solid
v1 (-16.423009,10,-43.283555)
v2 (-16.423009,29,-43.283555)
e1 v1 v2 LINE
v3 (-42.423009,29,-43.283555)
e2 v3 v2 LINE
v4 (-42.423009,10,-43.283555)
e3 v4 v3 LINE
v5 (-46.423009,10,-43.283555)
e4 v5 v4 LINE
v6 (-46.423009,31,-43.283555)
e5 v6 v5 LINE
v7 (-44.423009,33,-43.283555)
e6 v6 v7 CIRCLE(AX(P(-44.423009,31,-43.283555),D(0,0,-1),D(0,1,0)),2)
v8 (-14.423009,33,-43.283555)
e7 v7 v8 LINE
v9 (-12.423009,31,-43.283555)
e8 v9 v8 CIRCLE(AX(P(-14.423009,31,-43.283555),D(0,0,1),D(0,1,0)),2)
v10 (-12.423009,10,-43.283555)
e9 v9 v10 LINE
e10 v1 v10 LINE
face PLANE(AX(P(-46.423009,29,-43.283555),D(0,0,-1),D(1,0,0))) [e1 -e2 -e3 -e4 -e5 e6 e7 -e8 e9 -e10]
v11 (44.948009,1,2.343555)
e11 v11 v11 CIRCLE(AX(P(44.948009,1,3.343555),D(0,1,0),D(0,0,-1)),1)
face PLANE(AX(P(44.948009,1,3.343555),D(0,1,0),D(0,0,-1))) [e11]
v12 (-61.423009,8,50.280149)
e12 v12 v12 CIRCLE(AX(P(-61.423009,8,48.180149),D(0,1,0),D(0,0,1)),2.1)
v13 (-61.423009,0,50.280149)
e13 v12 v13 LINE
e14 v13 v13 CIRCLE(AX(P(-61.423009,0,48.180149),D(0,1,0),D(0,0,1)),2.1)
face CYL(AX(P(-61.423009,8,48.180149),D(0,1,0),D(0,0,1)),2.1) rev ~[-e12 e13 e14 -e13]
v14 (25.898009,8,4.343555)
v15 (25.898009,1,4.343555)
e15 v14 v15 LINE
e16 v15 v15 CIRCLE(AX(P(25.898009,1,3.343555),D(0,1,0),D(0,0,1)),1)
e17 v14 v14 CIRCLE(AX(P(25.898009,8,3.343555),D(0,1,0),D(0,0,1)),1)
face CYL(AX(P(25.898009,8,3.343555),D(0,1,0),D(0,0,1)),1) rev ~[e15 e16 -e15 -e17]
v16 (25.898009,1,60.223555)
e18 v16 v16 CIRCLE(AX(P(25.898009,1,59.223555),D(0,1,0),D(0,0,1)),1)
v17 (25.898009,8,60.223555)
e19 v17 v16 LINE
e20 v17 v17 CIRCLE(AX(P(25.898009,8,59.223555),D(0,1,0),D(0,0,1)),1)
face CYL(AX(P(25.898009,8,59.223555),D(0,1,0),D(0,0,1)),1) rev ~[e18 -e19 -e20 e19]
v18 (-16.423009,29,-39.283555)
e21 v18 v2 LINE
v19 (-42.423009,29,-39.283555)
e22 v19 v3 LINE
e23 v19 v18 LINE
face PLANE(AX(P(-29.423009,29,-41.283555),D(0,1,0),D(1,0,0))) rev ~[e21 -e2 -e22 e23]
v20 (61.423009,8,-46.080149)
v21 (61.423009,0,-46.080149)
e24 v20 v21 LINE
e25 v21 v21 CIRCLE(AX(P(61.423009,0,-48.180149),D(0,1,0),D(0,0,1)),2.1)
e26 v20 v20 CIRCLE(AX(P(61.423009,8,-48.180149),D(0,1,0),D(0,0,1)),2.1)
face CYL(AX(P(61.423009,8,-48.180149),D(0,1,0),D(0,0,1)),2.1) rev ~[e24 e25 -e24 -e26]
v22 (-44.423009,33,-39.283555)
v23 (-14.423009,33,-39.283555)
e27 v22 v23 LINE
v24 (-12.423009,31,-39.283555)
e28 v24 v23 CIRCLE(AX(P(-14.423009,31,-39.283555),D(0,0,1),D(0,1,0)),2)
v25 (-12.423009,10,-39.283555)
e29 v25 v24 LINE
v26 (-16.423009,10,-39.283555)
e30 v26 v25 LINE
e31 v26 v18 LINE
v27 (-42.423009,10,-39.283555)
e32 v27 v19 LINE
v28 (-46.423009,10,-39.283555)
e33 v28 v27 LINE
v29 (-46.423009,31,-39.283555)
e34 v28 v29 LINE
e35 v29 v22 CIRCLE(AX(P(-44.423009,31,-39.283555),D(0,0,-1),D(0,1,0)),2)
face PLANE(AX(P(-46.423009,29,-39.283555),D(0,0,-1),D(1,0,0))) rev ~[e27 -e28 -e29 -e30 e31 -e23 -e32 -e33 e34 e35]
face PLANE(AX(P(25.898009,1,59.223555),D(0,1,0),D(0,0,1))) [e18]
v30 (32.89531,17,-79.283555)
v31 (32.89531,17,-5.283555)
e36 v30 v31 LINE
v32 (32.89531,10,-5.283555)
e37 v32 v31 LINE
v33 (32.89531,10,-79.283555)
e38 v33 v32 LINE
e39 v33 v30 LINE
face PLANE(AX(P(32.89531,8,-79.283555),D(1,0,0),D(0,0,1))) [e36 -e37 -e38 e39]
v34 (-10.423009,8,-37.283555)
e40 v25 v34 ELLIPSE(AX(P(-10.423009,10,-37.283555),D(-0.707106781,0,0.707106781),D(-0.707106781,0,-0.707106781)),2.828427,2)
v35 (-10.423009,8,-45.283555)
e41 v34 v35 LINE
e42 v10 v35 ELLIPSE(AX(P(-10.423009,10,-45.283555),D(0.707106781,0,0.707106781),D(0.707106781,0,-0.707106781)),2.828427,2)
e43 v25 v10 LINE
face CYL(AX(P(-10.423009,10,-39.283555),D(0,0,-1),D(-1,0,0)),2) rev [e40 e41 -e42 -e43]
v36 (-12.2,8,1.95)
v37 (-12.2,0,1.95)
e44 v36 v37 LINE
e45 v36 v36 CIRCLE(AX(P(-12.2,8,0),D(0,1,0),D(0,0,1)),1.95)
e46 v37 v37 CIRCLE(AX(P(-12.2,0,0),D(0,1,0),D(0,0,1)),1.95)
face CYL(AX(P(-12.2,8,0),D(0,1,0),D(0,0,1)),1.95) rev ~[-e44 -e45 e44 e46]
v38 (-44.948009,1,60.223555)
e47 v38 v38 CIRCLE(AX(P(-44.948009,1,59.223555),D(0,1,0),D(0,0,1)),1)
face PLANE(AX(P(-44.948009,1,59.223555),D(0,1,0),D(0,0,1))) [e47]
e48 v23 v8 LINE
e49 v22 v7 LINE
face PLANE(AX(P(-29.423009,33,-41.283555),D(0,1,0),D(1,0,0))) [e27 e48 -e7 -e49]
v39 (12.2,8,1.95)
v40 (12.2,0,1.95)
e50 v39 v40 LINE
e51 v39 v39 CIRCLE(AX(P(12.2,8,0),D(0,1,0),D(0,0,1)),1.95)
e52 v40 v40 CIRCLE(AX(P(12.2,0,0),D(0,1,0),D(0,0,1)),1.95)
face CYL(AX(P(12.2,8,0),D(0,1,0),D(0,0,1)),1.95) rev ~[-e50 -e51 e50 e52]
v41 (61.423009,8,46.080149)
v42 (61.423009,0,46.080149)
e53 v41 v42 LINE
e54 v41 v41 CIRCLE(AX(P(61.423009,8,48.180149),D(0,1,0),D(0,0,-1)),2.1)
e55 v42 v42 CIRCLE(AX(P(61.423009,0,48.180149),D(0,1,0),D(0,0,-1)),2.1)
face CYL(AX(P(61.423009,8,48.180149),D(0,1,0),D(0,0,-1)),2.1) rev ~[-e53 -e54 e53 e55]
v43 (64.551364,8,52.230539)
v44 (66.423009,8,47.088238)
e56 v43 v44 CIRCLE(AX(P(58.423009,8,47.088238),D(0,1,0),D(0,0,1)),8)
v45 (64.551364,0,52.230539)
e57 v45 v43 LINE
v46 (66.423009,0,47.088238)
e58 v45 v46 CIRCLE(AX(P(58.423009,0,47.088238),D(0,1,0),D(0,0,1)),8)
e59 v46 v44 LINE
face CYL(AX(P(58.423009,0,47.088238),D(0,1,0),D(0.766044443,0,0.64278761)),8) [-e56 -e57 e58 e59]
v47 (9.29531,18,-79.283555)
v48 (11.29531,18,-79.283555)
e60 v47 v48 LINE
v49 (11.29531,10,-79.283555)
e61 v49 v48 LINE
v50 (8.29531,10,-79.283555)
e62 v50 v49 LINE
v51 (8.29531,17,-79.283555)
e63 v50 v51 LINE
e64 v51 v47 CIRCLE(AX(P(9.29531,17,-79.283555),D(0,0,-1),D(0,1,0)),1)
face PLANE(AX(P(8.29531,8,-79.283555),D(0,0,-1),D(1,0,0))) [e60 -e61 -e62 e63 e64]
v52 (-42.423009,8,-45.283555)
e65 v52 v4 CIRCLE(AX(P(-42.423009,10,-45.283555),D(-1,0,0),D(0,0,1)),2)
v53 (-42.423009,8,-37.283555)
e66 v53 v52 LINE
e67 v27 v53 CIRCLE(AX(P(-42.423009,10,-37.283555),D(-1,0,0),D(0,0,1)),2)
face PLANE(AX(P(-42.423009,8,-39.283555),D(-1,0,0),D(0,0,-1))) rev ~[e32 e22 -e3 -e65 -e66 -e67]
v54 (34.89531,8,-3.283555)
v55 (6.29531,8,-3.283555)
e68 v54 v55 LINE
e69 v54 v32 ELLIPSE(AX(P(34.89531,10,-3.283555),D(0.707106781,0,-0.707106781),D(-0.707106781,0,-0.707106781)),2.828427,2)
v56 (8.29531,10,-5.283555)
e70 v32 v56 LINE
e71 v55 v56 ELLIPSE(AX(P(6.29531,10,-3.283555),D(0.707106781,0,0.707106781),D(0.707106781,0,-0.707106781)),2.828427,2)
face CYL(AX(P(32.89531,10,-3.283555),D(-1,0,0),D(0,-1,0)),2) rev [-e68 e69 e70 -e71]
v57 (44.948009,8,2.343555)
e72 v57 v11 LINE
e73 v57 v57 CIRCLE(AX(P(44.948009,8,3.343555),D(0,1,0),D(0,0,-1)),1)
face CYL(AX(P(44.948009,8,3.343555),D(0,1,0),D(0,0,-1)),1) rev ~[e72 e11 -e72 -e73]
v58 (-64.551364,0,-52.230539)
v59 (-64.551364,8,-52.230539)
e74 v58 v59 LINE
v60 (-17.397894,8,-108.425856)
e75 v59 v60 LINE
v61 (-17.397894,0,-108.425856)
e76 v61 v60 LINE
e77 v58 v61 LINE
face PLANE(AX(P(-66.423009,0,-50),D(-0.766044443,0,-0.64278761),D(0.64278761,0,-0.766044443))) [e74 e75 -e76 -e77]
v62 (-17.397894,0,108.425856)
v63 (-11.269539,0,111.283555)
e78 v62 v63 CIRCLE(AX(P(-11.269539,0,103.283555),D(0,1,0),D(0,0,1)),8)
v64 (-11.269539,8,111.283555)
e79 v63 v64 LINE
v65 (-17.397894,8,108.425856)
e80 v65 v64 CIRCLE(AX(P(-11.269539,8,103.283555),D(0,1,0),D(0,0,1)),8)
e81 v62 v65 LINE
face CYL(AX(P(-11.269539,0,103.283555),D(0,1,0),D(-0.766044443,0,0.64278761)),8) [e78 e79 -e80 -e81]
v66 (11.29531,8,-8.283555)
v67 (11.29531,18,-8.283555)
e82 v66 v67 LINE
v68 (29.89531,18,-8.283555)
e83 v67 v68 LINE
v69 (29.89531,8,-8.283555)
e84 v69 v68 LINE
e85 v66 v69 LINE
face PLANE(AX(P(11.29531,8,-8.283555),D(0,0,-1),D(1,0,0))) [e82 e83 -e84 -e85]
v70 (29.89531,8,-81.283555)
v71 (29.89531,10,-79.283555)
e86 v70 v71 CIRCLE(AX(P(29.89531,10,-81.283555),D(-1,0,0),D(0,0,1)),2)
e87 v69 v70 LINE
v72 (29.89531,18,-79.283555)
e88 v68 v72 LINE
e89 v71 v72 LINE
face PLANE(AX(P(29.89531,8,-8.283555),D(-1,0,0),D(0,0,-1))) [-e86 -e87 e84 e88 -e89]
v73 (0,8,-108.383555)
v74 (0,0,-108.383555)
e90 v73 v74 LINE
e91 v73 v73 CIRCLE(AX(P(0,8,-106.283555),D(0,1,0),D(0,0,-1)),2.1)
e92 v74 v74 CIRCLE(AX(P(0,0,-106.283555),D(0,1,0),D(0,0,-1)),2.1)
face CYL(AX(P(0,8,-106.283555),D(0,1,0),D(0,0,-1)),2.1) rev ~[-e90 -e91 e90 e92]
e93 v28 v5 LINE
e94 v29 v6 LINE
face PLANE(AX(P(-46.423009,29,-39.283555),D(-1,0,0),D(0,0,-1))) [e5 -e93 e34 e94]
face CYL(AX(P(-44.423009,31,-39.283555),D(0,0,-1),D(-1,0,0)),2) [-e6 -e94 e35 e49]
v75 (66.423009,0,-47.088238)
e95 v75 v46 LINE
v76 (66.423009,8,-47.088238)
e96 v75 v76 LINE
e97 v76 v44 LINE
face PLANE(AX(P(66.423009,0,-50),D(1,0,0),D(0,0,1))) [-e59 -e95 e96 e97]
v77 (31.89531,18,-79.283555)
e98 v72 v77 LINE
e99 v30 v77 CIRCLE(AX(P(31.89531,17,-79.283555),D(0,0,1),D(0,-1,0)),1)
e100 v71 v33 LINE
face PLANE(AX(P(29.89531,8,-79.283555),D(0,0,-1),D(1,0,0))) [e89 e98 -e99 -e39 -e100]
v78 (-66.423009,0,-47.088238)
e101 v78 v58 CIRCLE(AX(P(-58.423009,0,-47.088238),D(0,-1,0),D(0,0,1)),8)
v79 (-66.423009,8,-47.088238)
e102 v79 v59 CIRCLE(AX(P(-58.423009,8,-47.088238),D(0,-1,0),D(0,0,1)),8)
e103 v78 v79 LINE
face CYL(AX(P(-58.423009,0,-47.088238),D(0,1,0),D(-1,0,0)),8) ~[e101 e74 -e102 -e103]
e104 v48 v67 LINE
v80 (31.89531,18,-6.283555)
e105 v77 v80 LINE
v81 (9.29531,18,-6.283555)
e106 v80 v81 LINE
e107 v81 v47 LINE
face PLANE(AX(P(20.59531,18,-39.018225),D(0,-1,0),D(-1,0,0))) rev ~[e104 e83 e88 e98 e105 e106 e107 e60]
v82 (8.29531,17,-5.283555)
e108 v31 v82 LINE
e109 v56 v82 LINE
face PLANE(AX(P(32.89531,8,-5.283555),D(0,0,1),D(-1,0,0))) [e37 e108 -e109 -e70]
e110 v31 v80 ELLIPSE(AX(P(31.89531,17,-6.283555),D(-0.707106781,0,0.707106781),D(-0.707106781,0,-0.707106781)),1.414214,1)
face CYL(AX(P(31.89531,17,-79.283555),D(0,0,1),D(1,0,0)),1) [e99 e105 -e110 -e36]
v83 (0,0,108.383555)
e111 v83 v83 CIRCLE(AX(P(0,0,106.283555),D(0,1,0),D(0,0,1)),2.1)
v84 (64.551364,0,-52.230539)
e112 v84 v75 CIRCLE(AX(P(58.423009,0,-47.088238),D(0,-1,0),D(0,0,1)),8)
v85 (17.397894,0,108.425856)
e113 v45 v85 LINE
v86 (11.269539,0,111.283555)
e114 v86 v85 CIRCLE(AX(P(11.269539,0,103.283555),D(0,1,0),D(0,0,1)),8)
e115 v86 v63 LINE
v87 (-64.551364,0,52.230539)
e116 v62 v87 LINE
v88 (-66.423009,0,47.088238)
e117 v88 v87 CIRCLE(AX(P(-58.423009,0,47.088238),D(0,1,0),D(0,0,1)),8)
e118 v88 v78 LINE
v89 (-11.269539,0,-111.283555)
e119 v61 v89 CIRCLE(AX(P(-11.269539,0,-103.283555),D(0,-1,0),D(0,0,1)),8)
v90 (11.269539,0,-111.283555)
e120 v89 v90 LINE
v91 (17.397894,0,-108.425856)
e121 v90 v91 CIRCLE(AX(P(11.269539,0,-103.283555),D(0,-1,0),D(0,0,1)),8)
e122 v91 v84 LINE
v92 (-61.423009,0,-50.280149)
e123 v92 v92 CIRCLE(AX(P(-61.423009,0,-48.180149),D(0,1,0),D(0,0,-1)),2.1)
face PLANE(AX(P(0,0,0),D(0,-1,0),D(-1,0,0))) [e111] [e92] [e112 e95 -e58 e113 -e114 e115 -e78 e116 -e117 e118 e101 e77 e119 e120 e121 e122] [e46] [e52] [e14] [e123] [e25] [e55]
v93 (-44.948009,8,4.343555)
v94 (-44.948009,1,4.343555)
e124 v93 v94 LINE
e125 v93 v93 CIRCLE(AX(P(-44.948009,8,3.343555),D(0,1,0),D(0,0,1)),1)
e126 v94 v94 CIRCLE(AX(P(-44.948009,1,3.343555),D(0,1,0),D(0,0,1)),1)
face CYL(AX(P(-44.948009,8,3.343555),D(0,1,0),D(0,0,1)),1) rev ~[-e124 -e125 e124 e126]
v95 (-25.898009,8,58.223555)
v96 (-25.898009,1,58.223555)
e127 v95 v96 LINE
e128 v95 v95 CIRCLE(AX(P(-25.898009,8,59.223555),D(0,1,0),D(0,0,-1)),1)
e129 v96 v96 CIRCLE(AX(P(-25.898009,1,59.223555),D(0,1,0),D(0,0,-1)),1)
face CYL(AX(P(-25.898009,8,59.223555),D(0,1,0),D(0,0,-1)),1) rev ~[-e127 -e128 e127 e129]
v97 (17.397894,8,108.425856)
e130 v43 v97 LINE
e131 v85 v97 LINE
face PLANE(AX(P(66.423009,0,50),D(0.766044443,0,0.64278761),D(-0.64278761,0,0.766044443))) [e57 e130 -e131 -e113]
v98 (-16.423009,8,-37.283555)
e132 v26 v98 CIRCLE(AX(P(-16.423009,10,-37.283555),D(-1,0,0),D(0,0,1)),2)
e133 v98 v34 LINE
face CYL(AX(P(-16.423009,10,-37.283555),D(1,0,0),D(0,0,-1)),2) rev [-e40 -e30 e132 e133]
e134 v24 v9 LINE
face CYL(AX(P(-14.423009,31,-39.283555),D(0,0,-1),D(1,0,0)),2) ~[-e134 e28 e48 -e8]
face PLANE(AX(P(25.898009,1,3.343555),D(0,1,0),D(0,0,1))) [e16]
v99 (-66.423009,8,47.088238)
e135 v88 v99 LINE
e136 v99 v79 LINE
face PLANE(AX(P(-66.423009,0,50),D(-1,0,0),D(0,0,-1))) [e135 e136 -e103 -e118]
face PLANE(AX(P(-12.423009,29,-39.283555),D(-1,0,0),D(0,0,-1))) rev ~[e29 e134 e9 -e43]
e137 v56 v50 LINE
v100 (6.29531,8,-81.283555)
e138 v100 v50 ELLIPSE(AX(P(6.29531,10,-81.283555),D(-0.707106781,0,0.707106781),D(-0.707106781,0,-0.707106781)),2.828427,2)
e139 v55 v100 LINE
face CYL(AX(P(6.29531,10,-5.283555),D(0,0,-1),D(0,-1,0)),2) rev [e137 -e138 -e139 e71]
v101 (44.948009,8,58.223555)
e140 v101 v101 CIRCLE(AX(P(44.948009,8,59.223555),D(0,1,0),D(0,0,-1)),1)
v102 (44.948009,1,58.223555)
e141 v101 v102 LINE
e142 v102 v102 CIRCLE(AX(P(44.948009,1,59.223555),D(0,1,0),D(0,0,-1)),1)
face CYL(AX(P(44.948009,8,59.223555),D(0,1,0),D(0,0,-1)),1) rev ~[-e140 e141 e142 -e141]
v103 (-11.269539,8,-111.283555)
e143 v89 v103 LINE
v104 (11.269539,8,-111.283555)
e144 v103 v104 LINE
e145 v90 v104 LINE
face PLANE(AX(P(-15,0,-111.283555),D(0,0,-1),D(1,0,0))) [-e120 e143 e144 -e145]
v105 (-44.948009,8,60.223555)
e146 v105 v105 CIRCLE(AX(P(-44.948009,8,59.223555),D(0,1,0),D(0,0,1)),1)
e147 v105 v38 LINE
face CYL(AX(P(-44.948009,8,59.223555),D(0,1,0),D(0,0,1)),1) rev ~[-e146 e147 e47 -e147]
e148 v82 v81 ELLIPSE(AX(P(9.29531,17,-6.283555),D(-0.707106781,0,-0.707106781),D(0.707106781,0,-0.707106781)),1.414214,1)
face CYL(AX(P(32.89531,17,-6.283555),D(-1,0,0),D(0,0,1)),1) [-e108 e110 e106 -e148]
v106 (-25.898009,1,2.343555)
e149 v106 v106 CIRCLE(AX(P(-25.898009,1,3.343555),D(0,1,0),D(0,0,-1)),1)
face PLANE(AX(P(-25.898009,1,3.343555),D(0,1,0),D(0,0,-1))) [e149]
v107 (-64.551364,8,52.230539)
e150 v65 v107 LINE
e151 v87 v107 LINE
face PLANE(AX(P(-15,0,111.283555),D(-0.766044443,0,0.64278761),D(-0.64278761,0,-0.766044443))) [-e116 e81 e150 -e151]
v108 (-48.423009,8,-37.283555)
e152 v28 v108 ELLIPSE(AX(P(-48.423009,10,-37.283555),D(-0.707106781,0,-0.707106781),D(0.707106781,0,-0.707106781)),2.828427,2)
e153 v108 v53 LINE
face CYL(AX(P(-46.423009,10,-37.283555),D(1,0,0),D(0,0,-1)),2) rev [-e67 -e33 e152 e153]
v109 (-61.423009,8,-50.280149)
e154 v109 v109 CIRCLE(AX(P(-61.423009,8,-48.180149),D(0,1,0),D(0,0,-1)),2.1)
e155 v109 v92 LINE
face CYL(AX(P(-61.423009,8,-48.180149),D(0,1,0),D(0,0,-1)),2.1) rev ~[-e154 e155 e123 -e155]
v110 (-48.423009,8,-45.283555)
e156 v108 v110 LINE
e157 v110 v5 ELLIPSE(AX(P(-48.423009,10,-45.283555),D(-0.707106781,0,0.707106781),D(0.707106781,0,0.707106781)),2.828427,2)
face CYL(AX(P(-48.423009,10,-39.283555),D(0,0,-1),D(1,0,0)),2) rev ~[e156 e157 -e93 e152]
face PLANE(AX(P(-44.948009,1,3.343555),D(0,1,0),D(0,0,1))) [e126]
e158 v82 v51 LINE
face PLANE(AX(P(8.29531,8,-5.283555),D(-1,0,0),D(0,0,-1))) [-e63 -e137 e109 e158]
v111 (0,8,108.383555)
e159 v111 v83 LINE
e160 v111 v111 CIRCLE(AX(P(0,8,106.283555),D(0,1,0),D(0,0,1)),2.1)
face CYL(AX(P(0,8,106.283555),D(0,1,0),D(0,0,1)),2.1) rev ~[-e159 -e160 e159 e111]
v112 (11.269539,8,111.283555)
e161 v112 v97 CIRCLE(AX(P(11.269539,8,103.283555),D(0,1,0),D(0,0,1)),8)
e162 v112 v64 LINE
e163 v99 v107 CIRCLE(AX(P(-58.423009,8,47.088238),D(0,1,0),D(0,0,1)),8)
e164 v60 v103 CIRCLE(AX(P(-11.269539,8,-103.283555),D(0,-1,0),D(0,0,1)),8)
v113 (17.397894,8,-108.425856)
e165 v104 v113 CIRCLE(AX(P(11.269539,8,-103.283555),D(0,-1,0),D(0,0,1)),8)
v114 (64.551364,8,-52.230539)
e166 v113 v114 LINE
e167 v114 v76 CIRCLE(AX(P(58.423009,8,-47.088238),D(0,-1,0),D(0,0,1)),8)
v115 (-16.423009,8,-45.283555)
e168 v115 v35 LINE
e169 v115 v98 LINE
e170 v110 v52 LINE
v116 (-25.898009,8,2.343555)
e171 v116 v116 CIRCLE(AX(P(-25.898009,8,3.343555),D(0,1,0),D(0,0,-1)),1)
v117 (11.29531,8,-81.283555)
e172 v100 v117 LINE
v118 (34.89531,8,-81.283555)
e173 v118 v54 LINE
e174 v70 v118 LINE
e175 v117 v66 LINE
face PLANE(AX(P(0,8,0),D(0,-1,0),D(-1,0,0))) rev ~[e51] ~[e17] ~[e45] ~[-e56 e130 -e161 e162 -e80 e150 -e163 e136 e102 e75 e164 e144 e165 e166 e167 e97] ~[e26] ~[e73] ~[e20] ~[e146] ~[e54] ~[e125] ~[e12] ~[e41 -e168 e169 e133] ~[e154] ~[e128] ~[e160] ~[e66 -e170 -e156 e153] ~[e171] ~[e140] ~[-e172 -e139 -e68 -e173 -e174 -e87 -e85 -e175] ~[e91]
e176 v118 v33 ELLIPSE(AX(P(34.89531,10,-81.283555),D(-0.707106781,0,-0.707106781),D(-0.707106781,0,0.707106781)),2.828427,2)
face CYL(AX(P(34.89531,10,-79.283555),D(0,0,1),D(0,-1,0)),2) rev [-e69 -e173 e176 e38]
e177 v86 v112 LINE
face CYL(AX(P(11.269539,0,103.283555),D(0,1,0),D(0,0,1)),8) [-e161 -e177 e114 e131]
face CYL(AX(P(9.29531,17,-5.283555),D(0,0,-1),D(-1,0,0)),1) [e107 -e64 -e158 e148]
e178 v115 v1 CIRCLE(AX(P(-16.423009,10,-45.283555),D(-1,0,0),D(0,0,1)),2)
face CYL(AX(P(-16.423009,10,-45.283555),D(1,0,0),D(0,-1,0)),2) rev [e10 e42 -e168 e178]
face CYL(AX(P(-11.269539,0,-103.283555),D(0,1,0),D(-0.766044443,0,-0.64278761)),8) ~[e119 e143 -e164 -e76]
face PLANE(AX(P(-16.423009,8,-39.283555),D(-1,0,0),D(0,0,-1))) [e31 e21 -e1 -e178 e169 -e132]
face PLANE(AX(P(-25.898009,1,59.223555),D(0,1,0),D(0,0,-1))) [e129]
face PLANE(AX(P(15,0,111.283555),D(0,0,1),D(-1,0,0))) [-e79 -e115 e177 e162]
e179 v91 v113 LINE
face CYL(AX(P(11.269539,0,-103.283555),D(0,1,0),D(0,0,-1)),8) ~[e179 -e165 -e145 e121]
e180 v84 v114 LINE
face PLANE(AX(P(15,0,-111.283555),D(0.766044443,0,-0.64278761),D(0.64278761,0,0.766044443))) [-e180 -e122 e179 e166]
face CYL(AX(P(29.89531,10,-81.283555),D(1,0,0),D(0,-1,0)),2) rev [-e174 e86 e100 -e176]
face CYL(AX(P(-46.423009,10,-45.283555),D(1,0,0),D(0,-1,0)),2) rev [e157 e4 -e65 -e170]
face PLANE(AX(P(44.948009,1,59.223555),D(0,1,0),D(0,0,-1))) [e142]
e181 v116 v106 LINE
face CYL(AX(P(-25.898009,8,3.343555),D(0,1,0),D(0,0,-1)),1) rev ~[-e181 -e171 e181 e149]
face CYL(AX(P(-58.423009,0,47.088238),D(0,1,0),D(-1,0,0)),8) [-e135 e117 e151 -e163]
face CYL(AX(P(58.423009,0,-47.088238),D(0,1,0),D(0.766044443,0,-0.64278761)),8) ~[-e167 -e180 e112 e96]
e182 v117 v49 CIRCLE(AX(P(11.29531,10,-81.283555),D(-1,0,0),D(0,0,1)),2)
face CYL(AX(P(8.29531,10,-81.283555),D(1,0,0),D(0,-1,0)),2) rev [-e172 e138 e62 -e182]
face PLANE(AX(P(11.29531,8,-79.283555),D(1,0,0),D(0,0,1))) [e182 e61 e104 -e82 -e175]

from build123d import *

# Parameters (mm, degrees)
BOSS_EXTRUDE2_DEPTH = 8
SKETCH5_R           = 2.1
CUT_EXTRUDE1_DEPTH  = 130.846239099
FILLET1_R           = 8
SKETCH6_R           = 1
CUT_EXTRUDE2_DEPTH  = 7
BOSS_EXTRUDE3_DEPTH = 10
FILLET2_R           = 2
SKETCH9_W           = 4
SKETCH9_H           = 4
BOSS_EXTRUDE4_DEPTH = 21
SKETCH10_W          = 34
SKETCH10_H          = 4
BOSS_EXTRUDE5_DEPTH = 4
FILLET3_R           = 2
FILLET4_R           = 1
SKETCH11_R          = 1.95
CUT_EXTRUDE3_DEPTH  = 132.988809405


with BuildPart() as part:
    # Sketch3 → Boss-Extrude2 (new body)
    with BuildSketch(Plane(origin=(0, 0, 0), x_dir=(1, 0, 0), z_dir=(0, 1, 0))):
        Polygon((-66.423008775, -50), (-66.423008775, 50), (-15, 111.28355545), (15, 111.28355545), (66.423008775, 50), (66.423008775, -50), (15, -111.28355545), (-15, -111.28355545), align=None)
    extrude(amount=BOSS_EXTRUDE2_DEPTH)

    # Sketch5 → Cut-Extrude1 (cut, through all)
    with BuildSketch(Plane(origin=(0, 8, 0), x_dir=(1, 0, 0), z_dir=(0, 1, 0))):
        with Locations(Location((0, -106.28355545, 0), (0, 0, 270))):
            Circle(SKETCH5_R)
        with Locations(Location((-61.423008775, -48.180148829, 0), (0, 0, 270))):
            Circle(SKETCH5_R)
        with Locations(Location((0, 106.28355545, 0), (0, 0, 90))):
            Circle(SKETCH5_R)
        with Locations(Location((-61.423008775, 48.180148829, 0), (0, 0, 90))):
            Circle(SKETCH5_R)
        with Locations(Location((61.423008775, 48.180148829, 0), (0, 0, 270))):
            Circle(SKETCH5_R)
        with Locations(Location((61.423008775, -48.180148829, 0), (0, 0, 90))):
            Circle(SKETCH5_R)
    extrude(amount=-CUT_EXTRUDE1_DEPTH, mode=Mode.SUBTRACT)

    # Fillet1
    fillet1_edges = [part.edges().sort_by_distance(p)[0] for p in [
        (-66.423008775, 4, 50),
        (-66.423008775, 4, -50),
        (-15, 4, -111.28355545),
        (15, 4, -111.28355545),
        (66.423008775, 4, -50),
        (66.423008775, 4, 50),
        (15, 4, 111.28355545),
        (-15, 4, 111.28355545),
    ]]
    fillet(fillet1_edges, radius=FILLET1_R)

    # Sketch6 → Cut-Extrude2 (cut)
    with BuildSketch(Plane(origin=(0, 8, 0), x_dir=(1, 0, 0), z_dir=(0, 1, 0))):
        with Locations(Location((-44.948008775, -3.34355545, 0), (0, 0, 270))):
            Circle(SKETCH6_R)
        with Locations(Location((-44.948008775, -59.22355545, 0), (0, 0, 270))):
            Circle(SKETCH6_R)
        with Locations(Location((-25.898008775, -59.22355545, 0), (0, 0, 90))):
            Circle(SKETCH6_R)
        with Locations(Location((-25.898008775, -3.34355545, 0), (0, 0, 90))):
            Circle(SKETCH6_R)
        with Locations(Location((44.948008775, -59.22355545, 0), (0, 0, 90))):
            Circle(SKETCH6_R)
        with Locations(Location((25.898008775, -59.22355545, 0), (0, 0, 270))):
            Circle(SKETCH6_R)
        with Locations(Location((44.948008775, -3.34355545, 0), (0, 0, 90))):
            Circle(SKETCH6_R)
        with Locations(Location((25.898008775, -3.34355545, 0), (0, 0, 270))):
            Circle(SKETCH6_R)
    extrude(amount=-CUT_EXTRUDE2_DEPTH, mode=Mode.SUBTRACT)

    # Sketch8 → Boss-Extrude3 (add)
    with BuildSketch(Plane(origin=(0, 8, 0), x_dir=(1, 0, 0), z_dir=(0, 1, 0))):
        Polygon((8.295310149, 79.28355545), (11.295310149, 79.28355545), (11.295310149, 8.28355545), (29.895310149, 8.28355545), (29.895310149, 79.28355545), (32.895310149, 79.28355545), (32.895310149, 5.28355545), (8.295310149, 5.28355545), align=None)
    extrude(amount=BOSS_EXTRUDE3_DEPTH)

    # Fillet2
    fillet2_edges = [part.edges().sort_by_distance(p)[0] for p in [
        (8.295310149, 8, -42.28355545),
        (20.595310149, 8, -5.28355545),
        (32.895310149, 8, -42.28355545),
        (31.395310149, 8, -79.28355545),
        (9.795310149, 8, -79.28355545),
    ]]
    fillet(fillet2_edges, radius=FILLET2_R)

    # Sketch9 → Boss-Extrude4 (add)
    with BuildSketch(Plane(origin=(0, 8, 0), x_dir=(1, 0, 0), z_dir=(0, 1, 0))):
        with Locations((-44.423008775, 41.28355545)):
            Rectangle(SKETCH9_W, SKETCH9_H)
        with Locations((-14.423008775, 41.28355545)):
            Rectangle(SKETCH9_W, SKETCH9_H)
    extrude(amount=BOSS_EXTRUDE4_DEPTH)

    # Sketch10 → Boss-Extrude5 (add)
    with BuildSketch(Plane(origin=(0, 29, 0), x_dir=(1, 0, 0), z_dir=(0, 1, 0))):
        with Locations((-29.423008775, 41.28355545)):
            Rectangle(SKETCH10_W, SKETCH10_H)
    extrude(amount=BOSS_EXTRUDE5_DEPTH)

    # Fillet3
    fillet3_edges = [part.edges().sort_by_distance(p)[0] for p in [
        (-44.423008775, 8, -43.28355545),
        (-46.423008775, 8, -41.28355545),
        (-44.423008775, 8, -39.28355545),
        (-12.423008775, 8, -41.28355545),
        (-14.423008775, 8, -43.28355545),
        (-14.423008775, 8, -39.28355545),
        (-46.423008775, 33, -41.28355545),
        (-12.423008775, 33, -41.28355545),
    ]]
    fillet(fillet3_edges, radius=FILLET3_R)

    # Fillet4
    fillet4_edges = [part.edges().sort_by_distance(p)[0] for p in [
        (8.295310149, 18, -42.28355545),
        (20.595310149, 18, -5.28355545),
        (32.895310149, 18, -42.28355545),
    ]]
    fillet(fillet4_edges, radius=FILLET4_R)

    # Sketch11 → Cut-Extrude3 (cut, through all)
    with BuildSketch(Plane(origin=(0, 8, 0), x_dir=(1, 0, 0), z_dir=(0, 1, 0))):
        with Locations(Location((12.2, 0, 0), (0, 0, 270))):
            Circle(SKETCH11_R)
        with Locations(Location((-12.2, 0, 0), (0, 0, 270))):
            Circle(SKETCH11_R)
    extrude(amount=-CUT_EXTRUDE3_DEPTH, mode=Mode.SUBTRACT)


solid = part.part
